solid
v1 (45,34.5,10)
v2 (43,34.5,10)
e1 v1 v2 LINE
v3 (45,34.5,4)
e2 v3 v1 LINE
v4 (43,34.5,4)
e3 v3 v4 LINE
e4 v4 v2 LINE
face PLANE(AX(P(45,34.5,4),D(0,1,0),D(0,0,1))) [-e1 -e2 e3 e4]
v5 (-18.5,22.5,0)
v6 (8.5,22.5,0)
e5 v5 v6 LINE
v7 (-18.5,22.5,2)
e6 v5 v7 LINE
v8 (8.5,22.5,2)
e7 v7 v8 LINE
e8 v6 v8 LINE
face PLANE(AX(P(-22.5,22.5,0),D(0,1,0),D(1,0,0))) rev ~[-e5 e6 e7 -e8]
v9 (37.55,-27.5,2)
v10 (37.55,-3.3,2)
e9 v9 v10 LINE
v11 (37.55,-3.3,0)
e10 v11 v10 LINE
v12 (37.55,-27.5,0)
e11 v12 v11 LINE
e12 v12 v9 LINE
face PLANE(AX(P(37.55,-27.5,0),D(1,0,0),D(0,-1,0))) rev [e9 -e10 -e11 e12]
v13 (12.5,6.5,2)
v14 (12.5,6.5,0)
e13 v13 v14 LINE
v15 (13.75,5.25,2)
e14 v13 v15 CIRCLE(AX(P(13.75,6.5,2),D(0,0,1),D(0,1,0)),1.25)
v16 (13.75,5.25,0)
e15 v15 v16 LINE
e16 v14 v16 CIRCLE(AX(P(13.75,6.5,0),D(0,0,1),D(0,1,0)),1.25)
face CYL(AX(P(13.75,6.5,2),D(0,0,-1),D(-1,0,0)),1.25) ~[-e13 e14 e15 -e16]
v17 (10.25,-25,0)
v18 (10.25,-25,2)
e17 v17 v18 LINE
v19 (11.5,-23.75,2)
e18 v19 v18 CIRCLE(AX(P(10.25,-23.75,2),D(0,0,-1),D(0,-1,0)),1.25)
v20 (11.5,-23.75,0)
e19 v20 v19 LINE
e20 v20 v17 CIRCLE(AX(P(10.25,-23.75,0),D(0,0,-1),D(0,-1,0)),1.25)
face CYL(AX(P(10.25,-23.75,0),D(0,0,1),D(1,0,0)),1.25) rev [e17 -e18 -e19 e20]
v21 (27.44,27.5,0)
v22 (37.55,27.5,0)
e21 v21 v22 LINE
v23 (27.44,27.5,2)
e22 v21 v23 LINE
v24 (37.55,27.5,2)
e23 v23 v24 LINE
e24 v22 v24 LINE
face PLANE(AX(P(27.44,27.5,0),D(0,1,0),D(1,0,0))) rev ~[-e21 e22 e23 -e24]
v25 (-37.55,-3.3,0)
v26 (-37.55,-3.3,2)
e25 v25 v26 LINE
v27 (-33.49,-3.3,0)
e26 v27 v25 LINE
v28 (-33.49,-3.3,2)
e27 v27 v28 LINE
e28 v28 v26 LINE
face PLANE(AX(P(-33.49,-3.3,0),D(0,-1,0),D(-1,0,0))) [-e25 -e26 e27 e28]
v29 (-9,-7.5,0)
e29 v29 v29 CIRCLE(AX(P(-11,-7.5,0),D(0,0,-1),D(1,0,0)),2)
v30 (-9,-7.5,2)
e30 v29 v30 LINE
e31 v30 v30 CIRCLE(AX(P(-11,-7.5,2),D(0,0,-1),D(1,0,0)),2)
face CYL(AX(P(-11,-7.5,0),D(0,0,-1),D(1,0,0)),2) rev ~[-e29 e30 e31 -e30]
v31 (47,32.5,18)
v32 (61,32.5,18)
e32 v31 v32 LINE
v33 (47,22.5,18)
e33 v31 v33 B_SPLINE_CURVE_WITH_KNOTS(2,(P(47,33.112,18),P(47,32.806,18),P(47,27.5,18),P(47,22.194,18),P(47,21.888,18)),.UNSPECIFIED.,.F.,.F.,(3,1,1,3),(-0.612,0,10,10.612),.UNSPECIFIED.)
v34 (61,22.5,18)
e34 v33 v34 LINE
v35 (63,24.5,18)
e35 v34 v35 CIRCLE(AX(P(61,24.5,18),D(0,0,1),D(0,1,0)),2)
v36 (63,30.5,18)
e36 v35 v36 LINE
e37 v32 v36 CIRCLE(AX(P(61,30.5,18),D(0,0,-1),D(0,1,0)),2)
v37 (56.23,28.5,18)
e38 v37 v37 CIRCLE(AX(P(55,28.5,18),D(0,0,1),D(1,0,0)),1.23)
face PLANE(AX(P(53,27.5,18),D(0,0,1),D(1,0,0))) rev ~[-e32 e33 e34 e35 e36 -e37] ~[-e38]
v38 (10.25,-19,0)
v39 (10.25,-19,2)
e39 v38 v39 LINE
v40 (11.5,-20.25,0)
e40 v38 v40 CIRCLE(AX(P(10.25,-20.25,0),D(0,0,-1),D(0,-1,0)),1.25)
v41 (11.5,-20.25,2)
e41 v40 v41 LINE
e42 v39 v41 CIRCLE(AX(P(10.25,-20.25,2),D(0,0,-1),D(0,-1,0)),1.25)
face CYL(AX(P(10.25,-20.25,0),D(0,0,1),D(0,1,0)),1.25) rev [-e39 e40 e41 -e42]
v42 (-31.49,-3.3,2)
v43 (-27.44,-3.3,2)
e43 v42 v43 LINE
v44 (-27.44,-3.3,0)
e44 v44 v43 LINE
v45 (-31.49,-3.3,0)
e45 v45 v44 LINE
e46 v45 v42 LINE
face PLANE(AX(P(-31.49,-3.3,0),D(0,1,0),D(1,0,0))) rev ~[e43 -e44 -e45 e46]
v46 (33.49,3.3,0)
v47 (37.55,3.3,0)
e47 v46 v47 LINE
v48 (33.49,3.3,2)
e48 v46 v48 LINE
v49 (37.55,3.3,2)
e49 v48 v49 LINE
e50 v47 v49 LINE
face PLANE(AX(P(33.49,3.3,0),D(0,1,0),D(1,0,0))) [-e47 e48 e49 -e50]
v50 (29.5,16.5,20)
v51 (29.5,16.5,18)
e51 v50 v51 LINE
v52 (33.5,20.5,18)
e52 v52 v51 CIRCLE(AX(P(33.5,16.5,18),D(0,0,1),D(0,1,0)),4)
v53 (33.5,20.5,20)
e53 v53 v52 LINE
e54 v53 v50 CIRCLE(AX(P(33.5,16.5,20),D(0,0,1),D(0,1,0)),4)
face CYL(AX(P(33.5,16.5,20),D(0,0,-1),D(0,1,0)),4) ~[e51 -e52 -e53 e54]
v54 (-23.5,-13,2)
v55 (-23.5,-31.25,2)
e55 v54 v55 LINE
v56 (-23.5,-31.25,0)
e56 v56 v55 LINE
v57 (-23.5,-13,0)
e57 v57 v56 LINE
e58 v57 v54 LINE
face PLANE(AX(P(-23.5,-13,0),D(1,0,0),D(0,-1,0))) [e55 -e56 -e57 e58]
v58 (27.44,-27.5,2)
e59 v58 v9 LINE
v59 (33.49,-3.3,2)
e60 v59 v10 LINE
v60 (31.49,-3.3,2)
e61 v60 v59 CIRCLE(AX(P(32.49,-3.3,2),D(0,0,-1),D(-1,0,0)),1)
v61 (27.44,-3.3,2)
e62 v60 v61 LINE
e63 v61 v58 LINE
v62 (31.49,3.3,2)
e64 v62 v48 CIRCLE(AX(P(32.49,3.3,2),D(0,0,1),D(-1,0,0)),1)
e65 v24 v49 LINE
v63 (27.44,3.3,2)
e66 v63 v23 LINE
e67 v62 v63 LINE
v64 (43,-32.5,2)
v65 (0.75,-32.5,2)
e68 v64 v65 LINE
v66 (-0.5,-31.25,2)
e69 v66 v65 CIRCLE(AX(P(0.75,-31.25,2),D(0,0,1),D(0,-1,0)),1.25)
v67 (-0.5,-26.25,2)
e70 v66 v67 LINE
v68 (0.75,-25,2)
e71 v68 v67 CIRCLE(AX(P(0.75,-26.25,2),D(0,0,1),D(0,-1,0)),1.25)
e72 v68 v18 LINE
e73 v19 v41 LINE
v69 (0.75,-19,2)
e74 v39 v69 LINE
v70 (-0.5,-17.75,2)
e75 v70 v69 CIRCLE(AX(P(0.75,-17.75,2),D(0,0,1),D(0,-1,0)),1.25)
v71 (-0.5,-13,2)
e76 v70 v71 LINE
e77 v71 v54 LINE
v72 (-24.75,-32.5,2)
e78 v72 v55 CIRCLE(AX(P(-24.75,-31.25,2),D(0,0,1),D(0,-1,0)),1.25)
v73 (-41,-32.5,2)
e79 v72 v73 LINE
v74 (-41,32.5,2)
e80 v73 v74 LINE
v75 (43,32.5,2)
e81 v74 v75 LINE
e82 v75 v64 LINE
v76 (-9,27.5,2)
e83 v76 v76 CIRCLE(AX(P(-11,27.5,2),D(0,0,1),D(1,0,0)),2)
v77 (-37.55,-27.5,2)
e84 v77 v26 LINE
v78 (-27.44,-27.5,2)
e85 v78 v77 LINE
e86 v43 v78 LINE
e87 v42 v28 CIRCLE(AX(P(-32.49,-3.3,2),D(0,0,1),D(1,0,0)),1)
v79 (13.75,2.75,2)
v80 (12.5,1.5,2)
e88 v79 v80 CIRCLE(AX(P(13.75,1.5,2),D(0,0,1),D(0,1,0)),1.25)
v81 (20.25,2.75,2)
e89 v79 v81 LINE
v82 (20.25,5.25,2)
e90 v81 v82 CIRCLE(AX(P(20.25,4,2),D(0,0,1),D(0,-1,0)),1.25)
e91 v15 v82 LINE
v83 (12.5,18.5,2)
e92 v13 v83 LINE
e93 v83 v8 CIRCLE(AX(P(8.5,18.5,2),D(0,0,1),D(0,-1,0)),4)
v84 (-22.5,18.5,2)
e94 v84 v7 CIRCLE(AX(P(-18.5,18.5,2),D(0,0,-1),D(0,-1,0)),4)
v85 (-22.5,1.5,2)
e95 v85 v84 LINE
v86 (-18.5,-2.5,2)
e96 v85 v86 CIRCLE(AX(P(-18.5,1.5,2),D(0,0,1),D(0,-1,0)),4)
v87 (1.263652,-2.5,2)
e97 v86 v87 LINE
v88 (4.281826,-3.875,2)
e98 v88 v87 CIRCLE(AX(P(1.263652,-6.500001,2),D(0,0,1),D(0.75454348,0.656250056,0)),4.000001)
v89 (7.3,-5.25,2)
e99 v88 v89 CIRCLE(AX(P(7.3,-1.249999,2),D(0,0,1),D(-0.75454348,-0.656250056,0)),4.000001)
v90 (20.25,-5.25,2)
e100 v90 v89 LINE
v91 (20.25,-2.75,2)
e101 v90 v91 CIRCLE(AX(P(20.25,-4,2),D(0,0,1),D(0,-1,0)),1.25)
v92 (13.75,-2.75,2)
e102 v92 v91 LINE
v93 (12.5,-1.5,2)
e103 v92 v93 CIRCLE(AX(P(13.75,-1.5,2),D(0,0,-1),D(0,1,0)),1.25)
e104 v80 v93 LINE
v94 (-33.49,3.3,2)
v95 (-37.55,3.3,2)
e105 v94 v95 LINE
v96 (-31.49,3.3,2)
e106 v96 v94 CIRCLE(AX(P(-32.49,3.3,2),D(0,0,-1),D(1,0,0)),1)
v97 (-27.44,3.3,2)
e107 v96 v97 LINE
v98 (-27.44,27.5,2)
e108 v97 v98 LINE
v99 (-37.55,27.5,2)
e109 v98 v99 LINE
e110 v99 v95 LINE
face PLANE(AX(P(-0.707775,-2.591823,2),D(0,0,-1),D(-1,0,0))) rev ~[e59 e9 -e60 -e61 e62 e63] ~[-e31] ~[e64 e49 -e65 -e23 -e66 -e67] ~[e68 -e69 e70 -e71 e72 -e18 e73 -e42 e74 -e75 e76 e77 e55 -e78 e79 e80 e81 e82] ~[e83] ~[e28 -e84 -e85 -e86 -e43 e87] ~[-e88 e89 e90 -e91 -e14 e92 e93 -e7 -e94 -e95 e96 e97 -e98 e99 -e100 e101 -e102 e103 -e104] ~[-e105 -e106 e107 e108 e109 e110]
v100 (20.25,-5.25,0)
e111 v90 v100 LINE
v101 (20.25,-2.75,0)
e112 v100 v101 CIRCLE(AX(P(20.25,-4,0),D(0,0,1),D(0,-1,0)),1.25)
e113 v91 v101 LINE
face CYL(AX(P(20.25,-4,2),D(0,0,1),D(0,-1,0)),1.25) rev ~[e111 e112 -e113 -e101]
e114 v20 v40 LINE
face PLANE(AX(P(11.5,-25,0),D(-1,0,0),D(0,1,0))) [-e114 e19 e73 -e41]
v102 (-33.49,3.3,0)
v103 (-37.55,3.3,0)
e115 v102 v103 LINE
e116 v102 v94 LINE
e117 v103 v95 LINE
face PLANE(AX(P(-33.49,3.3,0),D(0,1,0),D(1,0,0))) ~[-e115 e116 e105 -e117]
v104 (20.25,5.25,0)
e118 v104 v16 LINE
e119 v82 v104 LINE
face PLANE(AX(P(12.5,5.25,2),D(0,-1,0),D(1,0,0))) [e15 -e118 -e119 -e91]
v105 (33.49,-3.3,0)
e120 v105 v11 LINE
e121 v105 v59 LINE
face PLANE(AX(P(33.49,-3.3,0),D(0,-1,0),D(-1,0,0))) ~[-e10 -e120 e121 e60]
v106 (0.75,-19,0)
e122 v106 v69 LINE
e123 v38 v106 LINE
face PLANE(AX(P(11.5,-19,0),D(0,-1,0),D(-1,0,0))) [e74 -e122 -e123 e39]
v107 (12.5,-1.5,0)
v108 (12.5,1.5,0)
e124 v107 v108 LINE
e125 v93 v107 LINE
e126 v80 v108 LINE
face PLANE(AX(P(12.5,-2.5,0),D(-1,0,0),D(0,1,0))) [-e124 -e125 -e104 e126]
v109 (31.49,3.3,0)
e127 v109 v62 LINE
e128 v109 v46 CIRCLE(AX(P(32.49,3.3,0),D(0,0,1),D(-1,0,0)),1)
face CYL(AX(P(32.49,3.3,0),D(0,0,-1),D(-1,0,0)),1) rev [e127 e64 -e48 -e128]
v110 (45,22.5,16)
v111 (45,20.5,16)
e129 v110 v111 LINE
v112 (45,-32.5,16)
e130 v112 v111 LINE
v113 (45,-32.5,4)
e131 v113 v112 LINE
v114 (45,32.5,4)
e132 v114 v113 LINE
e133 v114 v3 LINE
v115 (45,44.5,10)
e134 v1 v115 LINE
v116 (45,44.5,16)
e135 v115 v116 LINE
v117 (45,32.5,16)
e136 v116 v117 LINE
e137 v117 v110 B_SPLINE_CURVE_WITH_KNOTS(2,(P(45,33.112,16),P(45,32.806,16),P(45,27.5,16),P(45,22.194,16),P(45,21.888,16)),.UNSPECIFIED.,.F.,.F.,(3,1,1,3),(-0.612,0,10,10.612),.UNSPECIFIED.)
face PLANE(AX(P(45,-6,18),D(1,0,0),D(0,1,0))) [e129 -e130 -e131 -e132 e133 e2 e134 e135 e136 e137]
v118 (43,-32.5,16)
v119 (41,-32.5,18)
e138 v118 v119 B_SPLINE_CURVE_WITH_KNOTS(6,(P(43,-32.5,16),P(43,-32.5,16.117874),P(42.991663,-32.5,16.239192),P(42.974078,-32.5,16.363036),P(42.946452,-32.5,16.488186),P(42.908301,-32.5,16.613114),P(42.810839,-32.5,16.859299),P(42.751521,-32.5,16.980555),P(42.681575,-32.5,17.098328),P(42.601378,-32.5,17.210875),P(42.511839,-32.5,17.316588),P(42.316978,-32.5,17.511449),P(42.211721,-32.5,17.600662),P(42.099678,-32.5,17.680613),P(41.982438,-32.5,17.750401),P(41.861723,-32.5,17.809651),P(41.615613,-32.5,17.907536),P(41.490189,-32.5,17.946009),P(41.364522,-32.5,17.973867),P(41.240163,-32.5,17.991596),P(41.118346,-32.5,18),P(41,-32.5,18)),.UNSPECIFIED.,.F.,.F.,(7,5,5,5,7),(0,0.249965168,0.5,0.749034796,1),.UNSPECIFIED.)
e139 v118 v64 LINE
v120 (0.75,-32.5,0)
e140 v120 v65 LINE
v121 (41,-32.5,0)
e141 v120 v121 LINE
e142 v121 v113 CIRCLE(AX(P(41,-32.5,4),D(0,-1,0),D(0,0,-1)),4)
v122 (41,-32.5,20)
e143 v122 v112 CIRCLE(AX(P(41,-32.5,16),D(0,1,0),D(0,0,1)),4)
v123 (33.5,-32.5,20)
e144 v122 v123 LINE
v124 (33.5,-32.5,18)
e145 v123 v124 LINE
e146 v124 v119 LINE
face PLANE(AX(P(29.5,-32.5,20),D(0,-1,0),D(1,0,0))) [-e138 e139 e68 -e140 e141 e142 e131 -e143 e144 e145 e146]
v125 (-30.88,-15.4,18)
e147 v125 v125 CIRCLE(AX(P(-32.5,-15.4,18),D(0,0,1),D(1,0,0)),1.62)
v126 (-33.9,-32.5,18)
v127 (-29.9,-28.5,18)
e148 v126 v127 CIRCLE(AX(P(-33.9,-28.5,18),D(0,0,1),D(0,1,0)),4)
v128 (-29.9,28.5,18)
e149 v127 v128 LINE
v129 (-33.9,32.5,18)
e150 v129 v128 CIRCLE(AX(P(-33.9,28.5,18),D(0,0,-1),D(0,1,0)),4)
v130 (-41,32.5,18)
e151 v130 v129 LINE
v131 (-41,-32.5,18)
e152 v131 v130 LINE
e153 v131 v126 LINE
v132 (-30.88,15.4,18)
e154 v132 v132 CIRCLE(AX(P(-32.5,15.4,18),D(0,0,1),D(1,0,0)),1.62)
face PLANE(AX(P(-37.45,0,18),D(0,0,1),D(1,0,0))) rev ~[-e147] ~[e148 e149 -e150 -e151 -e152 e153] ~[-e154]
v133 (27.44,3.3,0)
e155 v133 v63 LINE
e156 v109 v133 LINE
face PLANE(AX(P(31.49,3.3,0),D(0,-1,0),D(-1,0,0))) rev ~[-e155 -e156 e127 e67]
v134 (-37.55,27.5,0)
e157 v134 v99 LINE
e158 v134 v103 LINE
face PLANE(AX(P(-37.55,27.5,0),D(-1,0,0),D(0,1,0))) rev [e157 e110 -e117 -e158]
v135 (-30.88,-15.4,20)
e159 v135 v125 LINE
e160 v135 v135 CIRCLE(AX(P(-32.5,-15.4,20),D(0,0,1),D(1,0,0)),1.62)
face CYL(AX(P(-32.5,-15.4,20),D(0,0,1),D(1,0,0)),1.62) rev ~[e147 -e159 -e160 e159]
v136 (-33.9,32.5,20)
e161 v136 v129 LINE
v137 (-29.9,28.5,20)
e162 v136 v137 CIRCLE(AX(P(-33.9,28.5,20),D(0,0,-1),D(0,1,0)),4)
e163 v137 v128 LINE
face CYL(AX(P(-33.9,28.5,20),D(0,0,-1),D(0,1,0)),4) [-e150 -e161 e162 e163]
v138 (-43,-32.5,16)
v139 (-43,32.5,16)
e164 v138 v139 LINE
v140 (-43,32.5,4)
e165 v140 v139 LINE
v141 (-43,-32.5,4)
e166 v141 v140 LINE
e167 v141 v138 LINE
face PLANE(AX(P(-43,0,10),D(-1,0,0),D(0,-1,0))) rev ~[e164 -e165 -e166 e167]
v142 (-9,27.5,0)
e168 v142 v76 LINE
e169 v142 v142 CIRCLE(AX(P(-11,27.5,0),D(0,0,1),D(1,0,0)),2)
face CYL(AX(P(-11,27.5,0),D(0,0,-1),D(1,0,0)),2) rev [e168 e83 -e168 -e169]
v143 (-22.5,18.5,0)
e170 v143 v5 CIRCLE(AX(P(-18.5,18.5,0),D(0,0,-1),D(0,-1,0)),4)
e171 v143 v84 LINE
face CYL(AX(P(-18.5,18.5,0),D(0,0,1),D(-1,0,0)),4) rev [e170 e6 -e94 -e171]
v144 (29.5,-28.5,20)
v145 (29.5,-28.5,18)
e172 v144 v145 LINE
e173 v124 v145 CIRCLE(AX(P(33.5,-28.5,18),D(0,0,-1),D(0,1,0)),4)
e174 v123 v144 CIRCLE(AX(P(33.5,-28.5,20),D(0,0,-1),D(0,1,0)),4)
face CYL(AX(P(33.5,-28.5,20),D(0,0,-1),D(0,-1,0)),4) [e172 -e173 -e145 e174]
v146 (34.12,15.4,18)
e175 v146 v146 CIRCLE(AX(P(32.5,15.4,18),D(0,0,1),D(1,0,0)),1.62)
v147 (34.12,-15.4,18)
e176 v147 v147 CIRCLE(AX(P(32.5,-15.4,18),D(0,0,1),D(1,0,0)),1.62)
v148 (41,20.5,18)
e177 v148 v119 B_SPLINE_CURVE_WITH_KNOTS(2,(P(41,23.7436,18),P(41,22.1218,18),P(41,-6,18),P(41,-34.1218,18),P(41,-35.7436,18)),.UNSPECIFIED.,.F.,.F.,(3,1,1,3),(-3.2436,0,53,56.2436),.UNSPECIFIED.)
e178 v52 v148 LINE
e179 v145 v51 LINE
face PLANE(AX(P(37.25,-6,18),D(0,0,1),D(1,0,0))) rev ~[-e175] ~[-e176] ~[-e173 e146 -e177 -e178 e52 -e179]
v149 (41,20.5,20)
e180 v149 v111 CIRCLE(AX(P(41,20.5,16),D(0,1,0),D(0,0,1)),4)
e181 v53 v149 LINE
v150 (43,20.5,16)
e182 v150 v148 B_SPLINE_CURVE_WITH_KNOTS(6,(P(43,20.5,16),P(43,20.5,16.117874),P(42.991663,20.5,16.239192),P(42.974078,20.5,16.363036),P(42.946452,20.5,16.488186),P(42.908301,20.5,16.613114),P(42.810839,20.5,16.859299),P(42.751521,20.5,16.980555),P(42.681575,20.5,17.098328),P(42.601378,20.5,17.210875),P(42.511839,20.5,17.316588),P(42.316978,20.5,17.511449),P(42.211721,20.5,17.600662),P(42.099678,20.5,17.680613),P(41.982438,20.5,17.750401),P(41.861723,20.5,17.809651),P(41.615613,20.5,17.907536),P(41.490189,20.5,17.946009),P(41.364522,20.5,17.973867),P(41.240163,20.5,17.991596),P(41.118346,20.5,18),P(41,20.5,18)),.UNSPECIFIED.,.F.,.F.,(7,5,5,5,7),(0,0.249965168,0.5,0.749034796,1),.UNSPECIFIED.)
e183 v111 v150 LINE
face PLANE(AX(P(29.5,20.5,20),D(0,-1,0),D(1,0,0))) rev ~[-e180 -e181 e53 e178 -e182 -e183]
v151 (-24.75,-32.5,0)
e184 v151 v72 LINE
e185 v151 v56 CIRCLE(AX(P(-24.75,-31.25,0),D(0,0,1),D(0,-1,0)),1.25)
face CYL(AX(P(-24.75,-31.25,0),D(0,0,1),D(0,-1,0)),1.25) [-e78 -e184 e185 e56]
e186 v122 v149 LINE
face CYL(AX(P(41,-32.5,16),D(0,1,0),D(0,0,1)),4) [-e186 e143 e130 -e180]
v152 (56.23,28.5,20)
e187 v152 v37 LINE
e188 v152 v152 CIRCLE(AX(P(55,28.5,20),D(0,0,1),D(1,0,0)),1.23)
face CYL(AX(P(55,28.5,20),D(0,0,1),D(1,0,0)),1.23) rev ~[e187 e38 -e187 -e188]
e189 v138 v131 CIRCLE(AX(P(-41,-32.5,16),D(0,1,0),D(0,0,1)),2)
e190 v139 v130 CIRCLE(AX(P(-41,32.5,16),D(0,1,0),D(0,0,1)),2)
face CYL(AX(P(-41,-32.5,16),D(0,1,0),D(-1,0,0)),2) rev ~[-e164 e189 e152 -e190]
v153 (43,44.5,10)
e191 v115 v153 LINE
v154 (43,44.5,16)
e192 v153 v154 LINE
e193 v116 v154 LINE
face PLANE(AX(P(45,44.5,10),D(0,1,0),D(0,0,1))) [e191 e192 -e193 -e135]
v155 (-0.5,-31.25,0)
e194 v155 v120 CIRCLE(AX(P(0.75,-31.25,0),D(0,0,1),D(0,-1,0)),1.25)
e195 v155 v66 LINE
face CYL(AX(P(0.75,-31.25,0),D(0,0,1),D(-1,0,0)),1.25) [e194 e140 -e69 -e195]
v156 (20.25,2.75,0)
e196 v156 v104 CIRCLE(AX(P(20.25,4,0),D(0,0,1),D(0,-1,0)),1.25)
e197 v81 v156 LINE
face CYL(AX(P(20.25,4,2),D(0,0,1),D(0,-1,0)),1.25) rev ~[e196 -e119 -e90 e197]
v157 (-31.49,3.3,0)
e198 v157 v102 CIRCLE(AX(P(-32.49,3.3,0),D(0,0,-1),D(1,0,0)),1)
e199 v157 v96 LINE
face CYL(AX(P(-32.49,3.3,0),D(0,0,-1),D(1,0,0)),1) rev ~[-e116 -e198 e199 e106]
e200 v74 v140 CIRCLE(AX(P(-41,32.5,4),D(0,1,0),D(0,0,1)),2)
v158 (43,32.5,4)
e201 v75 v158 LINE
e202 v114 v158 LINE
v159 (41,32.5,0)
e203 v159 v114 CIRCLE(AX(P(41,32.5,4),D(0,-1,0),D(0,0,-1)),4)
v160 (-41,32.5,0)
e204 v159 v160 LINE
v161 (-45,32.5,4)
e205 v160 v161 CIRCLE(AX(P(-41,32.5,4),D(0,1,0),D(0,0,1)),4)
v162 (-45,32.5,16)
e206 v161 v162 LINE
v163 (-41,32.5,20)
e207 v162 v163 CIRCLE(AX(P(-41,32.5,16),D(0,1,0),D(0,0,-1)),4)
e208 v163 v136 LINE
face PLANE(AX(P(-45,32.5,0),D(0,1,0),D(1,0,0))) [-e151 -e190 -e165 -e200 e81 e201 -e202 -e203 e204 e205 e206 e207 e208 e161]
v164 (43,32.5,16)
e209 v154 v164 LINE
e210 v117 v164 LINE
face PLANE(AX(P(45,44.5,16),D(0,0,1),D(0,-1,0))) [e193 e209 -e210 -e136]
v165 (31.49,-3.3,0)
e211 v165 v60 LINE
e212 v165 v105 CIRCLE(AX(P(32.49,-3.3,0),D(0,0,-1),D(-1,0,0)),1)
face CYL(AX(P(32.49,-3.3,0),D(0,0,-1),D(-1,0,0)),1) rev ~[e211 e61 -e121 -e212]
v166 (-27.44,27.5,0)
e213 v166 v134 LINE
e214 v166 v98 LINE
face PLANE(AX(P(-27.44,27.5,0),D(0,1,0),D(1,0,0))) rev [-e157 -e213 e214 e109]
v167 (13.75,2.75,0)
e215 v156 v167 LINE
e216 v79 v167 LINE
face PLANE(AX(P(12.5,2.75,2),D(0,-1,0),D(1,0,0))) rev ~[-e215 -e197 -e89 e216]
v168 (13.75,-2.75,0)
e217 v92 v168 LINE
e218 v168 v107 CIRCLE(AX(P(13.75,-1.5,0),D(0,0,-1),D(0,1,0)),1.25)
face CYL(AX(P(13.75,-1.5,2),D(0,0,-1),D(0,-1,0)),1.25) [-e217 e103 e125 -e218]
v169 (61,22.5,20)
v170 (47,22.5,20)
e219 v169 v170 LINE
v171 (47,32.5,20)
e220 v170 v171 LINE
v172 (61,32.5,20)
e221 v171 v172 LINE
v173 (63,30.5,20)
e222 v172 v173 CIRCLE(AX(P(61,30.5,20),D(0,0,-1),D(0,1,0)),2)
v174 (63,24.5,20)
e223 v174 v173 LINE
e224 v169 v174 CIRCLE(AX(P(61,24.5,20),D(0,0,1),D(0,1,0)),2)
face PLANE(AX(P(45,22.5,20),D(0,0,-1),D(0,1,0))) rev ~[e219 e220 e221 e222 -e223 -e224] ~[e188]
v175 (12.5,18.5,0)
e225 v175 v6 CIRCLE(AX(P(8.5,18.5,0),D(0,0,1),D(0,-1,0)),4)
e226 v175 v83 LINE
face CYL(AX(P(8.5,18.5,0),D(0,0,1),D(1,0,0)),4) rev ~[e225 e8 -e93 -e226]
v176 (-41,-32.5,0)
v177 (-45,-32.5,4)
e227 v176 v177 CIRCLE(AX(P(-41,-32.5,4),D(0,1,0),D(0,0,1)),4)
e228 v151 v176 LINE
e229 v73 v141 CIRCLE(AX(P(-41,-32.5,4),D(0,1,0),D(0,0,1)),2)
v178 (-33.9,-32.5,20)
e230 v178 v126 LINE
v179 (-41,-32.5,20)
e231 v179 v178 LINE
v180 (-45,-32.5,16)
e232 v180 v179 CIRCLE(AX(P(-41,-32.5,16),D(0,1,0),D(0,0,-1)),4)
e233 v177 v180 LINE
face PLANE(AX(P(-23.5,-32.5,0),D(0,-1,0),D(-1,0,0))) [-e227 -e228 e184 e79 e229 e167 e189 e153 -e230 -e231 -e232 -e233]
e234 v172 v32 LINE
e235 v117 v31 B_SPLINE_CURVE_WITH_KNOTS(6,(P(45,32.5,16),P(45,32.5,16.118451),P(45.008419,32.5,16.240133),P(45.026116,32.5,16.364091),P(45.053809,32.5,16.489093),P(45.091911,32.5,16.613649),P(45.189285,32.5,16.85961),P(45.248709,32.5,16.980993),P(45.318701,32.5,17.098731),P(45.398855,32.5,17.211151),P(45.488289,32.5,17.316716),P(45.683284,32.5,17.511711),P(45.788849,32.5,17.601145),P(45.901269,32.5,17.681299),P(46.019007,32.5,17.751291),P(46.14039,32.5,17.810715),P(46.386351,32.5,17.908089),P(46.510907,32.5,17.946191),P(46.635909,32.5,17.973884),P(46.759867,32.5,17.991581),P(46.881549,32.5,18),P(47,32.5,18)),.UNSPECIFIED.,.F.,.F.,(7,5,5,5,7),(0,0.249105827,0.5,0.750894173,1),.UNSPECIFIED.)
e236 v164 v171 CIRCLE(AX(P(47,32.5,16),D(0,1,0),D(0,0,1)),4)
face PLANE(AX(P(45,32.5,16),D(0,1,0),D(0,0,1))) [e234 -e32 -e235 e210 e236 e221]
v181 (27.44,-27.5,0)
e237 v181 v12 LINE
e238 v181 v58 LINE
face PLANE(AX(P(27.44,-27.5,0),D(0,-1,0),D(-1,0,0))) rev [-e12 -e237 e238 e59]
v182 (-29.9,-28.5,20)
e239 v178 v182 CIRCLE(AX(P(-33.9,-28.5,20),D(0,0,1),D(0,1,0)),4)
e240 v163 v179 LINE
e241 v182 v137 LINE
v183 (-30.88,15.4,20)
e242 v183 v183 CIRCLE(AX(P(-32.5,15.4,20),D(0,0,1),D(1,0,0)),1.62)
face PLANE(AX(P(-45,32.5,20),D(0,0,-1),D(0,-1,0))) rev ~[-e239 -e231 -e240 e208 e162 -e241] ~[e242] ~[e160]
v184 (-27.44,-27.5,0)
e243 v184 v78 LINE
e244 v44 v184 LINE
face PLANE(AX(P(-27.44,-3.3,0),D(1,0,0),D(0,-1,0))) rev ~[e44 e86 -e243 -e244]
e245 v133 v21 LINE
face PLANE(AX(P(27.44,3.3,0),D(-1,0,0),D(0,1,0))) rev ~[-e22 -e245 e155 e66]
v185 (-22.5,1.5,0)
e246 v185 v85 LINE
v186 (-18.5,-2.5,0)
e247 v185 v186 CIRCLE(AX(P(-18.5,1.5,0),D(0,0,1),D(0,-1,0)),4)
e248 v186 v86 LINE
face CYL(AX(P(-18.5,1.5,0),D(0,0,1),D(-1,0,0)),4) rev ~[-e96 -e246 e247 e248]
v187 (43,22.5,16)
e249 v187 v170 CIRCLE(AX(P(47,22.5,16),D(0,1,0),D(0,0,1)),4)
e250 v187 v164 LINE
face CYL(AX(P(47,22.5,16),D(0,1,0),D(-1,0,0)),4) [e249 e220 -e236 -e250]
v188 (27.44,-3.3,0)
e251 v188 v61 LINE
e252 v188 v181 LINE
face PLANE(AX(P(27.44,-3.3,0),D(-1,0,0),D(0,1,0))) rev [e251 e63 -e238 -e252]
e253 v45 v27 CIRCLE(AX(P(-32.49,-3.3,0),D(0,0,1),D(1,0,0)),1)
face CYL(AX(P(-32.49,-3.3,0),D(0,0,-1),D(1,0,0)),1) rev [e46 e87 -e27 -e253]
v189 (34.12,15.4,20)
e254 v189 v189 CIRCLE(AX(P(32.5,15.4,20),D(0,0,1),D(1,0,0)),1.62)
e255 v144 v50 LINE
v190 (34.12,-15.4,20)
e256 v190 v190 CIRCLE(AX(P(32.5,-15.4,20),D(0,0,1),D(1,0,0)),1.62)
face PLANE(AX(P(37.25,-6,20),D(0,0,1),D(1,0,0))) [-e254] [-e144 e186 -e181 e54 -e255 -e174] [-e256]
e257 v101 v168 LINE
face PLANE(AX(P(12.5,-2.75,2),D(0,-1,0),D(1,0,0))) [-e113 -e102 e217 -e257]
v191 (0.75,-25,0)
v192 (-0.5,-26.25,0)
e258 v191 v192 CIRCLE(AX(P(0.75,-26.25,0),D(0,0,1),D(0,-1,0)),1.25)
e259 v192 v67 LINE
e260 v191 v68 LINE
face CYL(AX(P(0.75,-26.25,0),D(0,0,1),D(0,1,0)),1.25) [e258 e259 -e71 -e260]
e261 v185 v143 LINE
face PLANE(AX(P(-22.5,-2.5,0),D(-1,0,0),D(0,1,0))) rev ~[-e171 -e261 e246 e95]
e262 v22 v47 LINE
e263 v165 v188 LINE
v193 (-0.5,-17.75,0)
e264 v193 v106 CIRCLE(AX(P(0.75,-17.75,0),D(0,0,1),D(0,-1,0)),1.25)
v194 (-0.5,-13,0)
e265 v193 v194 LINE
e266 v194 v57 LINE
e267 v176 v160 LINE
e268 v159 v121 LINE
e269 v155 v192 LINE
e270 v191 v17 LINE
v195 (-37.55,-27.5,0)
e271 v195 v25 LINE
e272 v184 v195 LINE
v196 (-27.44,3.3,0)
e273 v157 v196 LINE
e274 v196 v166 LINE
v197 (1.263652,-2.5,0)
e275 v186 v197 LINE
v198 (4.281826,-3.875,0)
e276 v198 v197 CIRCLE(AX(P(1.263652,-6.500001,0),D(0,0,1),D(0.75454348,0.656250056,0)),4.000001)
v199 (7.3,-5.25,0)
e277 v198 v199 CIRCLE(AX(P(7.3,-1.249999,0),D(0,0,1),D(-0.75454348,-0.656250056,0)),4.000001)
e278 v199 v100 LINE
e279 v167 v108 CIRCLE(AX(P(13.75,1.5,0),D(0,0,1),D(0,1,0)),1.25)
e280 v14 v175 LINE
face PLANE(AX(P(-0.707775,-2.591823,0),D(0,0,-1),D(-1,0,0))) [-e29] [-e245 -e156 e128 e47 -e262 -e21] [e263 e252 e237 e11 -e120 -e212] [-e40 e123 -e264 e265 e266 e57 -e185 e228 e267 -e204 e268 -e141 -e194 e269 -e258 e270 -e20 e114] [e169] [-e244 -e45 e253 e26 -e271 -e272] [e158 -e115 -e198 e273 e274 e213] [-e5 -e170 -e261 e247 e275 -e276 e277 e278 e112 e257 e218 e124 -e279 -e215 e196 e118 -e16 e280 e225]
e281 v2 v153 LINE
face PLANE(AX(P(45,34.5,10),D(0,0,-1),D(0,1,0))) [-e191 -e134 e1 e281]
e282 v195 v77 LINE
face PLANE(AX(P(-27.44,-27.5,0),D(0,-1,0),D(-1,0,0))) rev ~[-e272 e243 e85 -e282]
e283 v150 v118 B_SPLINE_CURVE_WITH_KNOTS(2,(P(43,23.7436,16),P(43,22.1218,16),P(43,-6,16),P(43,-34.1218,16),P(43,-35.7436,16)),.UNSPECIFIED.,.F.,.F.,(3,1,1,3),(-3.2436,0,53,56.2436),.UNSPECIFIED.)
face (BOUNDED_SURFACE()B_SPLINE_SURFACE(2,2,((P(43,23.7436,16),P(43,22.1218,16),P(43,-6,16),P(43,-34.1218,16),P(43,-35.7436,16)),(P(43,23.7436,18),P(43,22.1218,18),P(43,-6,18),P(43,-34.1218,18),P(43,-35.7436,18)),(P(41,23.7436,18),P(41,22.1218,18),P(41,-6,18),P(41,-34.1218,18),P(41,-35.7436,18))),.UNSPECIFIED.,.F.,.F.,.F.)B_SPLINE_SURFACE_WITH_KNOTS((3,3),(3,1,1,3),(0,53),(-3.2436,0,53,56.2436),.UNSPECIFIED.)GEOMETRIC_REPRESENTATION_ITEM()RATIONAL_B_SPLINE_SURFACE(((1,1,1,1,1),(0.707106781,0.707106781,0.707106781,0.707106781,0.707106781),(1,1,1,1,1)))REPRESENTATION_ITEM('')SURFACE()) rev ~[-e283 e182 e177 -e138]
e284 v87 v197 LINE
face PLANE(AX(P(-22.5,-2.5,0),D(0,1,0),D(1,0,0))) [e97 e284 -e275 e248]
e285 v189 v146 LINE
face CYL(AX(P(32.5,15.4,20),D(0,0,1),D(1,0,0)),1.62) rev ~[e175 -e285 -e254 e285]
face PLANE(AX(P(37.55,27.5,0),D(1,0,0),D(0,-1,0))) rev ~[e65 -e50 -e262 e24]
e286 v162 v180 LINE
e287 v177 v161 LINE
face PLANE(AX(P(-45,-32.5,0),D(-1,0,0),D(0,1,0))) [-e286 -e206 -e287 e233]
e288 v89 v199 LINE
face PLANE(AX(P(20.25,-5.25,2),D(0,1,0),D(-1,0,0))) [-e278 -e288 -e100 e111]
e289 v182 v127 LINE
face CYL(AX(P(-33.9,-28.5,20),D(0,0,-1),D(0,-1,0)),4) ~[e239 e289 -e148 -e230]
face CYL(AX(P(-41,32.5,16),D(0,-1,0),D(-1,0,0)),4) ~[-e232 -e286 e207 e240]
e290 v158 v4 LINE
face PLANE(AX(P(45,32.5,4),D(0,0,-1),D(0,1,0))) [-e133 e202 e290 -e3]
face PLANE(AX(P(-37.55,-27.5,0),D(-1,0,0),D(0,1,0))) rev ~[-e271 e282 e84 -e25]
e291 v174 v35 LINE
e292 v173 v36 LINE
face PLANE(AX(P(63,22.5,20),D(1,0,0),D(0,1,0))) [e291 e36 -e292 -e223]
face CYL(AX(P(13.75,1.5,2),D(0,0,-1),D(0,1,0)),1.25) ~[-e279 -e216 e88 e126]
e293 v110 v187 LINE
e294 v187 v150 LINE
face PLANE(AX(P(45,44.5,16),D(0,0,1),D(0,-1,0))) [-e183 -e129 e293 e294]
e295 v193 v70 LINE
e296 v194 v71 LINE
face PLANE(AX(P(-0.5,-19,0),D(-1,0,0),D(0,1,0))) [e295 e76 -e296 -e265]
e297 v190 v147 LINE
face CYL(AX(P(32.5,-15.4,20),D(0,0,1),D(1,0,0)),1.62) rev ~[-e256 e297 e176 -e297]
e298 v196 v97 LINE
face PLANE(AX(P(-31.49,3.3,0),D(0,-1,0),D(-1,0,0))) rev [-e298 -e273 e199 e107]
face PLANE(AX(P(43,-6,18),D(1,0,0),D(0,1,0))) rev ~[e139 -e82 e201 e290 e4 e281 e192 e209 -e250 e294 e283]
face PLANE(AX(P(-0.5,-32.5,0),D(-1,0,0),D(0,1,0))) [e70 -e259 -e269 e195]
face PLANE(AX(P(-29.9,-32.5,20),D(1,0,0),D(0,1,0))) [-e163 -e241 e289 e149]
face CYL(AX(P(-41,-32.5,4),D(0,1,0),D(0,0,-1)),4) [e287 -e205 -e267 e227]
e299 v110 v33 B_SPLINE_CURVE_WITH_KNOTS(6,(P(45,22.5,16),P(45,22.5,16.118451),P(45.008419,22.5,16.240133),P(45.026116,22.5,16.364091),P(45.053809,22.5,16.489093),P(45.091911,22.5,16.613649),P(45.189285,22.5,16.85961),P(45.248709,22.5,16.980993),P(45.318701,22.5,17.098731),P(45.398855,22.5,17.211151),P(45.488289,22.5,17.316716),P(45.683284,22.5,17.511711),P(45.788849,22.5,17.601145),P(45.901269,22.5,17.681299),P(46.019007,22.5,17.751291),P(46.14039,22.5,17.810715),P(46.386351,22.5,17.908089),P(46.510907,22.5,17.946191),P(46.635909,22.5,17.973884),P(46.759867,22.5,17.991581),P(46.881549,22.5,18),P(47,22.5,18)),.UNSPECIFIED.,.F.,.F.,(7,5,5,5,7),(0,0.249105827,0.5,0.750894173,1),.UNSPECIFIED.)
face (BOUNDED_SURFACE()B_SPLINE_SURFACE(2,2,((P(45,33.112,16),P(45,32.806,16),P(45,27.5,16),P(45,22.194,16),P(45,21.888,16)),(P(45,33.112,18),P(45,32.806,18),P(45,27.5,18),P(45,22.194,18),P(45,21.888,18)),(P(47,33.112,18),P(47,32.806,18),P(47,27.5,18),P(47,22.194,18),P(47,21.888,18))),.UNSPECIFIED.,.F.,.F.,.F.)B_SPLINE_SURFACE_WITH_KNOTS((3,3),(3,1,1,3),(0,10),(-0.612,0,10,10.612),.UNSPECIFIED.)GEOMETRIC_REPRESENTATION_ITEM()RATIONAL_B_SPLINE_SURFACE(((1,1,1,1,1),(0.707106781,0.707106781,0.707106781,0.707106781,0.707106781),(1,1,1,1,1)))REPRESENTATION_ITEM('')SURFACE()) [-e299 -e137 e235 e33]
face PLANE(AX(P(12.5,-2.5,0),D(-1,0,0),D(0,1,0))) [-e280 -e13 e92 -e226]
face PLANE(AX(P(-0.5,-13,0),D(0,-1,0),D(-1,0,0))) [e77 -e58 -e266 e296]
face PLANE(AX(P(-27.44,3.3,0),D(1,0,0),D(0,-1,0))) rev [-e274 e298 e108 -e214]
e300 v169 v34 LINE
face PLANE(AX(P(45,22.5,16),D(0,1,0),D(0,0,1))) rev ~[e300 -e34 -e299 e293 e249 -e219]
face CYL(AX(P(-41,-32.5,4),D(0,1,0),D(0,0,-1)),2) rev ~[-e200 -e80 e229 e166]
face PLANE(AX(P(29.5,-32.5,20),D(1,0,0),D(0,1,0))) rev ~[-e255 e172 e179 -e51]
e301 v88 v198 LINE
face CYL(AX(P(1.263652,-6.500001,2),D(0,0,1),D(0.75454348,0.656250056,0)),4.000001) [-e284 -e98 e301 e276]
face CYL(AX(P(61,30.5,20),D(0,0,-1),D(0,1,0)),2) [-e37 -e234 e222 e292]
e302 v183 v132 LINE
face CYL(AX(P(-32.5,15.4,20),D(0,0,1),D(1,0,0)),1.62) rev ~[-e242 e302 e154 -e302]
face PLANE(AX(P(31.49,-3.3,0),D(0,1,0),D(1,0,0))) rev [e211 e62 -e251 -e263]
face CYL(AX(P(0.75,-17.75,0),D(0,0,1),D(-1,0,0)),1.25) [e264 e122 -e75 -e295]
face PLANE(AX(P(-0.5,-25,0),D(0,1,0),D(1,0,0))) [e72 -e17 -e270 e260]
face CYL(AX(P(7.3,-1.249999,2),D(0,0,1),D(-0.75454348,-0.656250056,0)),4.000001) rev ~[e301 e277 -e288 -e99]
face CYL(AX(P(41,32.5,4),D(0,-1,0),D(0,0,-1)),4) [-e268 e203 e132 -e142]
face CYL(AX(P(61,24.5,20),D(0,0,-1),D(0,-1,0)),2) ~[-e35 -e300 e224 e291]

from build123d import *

# Parameters (mm, degrees)
PAD001_DEPTH    = 2
SKETCH_R        = 2
SKETCH_W        = 35
SKETCH_H        = 25
PAD_DEPTH       = 2
POCKET_DEPTH    = 5
FILLET_R        = 1.25
FILLET001_R     = 4
FILLET002_R     = 1.25
PAD002_DEPTH    = 2
SKETCH004_W     = 65
SKETCH004_H     = 20
PAD003_DEPTH    = 2
SKETCH005_W     = 15.1
SKETCH005_H     = 65
PAD004_DEPTH    = 2
SKETCH006_W     = 53
SKETCH006_H     = 4
SKETCH006_W_2   = 10
PAD005_DEPTH    = 2
SKETCH007_W     = 15.5
SKETCH007_H     = 53
SKETCH007_W_2   = 20
SKETCH007_H_2   = 10
PAD006_DEPTH    = 2
SKETCH008_R     = 2
POCKET001_DEPTH = 5
FILLET003_R     = 4
FILLET004_R     = 2
FILLET005_R     = 2
FILLET006_R     = 4
SKETCH009_R     = 1.23
SKETCH009_R_2   = 1.62
POCKET002_DEPTH = 5


with BuildPart() as pad001:
    # Sketch001 → Pad001 (new body)
    with BuildSketch(Plane.XY):
        with BuildLine():
            Line((-27.44, -27.5), (-37.55, -27.5))
            Line((-37.55, -27.5), (-37.55, -3.3))
            Line((-33.49, -3.3), (-37.55, -3.3))
            ThreePointArc((-31.49, -3.3), (-32.49, -2.3), (-33.49, -3.3))
            Line((-31.49, -3.3), (-27.44, -3.3))
            Line((-27.44, -3.3), (-27.44, -27.5))
        make_face()
    extrude(amount=PAD001_DEPTH)


with BuildPart() as part_mirroring:
    # Part__Mirroring: instance of Pad001
    add(pad001.part.mirror(Plane(origin=(0, 0, 0), x_dir=(1, 0, 0), z_dir=(0, 1, 0))))


with BuildPart() as fusion:
    # Fusion base: copy of Pad001
    add(pad001.part)

    # Fusion: union Part__Mirroring
    add(part_mirroring.part)


with BuildPart() as part_mirroring001:
    # Part__Mirroring001: instance of Fusion
    add(fusion.part.mirror(Plane(origin=(0, 0, 0), x_dir=(0, -1, 0), z_dir=(1, 0, 0))))


with BuildPart() as fusion001:
    # Fusion001 base: copy of Fusion
    add(fusion.part)

    # Fusion001: union Part__Mirroring001
    add(part_mirroring001.part)


with BuildPart() as pocket002:
    # Sketch → Pad (new body)
    with BuildSketch(Plane.XY):
        Polygon((-45, 32.5), (45, 32.5), (45, -32.5), (-0.5, -32.5), (-0.5, -25), (11.5, -25), (11.5, -19), (-0.5, -19), (-0.5, -13), (-23.5, -13), (-23.5, -32.5), (-45, -32.5), align=None)
        with Locations((-11, 27.5)):
            Circle(SKETCH_R, mode=Mode.SUBTRACT)
        with Locations((-5, 10)):
            Rectangle(SKETCH_W, SKETCH_H, mode=Mode.SUBTRACT)
    extrude(amount=PAD_DEPTH)

    # Cut: cut Fusion001
    add(fusion001.part, mode=Mode.SUBTRACT)

    # Sketch002 → Pocket (cut)
    with BuildSketch(Plane.XY.offset(2)):
        with BuildLine():
            Line((12.5, 5.25), (20.25, 5.25))
            ThreePointArc((20.25, 2.75), (21.5, 4), (20.25, 5.25))
            Line((12.5, 2.75), (20.25, 2.75))
            Line((12.5, 2.75), (12.5, -2.75))
            Line((12.5, -2.75), (20.25, -2.75))
            ThreePointArc((20.25, -5.25), (21.5, -4), (20.25, -2.75))
            Line((20.25, -5.25), (7.3, -5.25))
            ThreePointArc((4.281826, -3.875), (5.641688, -4.890055), (7.3, -5.25))
            ThreePointArc((4.281826, -3.875), (2.921964, -2.859945), (1.263652, -2.5))
            Line((1.263652, -2.5), (12.5, 5.25))
        make_face()
    extrude(amount=-POCKET_DEPTH, mode=Mode.SUBTRACT)

    # Fillet
    fillet_edges = [pocket002.edges().sort_by_distance(p)[0] for p in [
        (-23.5, -32.5, 1),
        (-0.5, -32.5, 1),
        (-0.5, -19, 1),
        (-0.5, -25, 1),
        (11.5, -25, 1),
        (11.5, -19, 1),
    ]]
    fillet(fillet_edges, radius=FILLET_R)

    # Fillet001
    fillet001_edges = [pocket002.edges().sort_by_distance(p)[0] for p in [
        (-22.5, -2.5, 1),
        (-22.5, 22.5, 1),
        (12.5, 22.5, 1),
    ]]
    fillet(fillet001_edges, radius=FILLET001_R)

    # Fillet002
    fillet002_edges = [pocket002.edges().sort_by_distance(p)[0] for p in [
        (12.5, 5.25, 1),
        (12.5, 2.75, 1),
        (12.5, -2.75, 1),
    ]]
    fillet(fillet002_edges, radius=FILLET002_R)

    # Sketch003 → Pad002 (new body)
    with BuildSketch(Plane.YZ.offset(45)):
        Polygon((-32.5, 0), (32.5, 0), (32.5, 4), (34.5, 4), (34.5, 10), (44.5, 10), (44.5, 16), (32.5, 16), (-32.5, 16), align=None)
    extrude(amount=-PAD002_DEPTH)

    # Sketch004 → Pad003 (new body)
    with BuildSketch(Plane(origin=(-45, 0, 0), x_dir=(0, -1, 0), z_dir=(-1, 0, 0))):
        with Locations((0, 10)):
            Rectangle(SKETCH004_W, SKETCH004_H)
    extrude(amount=-PAD003_DEPTH)

    # Sketch005 → Pad004 (new body)
    with BuildSketch(Plane.XY.offset(20)):
        with Locations((-37.45, 0)):
            Rectangle(SKETCH005_W, SKETCH005_H)
    extrude(amount=-PAD004_DEPTH)

    # Sketch006 → Pad005 (new body)
    with BuildSketch(Plane.YZ.offset(45)):
        with Locations((-6, 18)):
            Rectangle(SKETCH006_W, SKETCH006_H)
        with Locations((27.5, 18)):
            Rectangle(SKETCH006_W_2, SKETCH006_H)
    extrude(amount=-PAD005_DEPTH)

    # Sketch007 → Pad006 (new body)
    with BuildSketch(Plane.XY.offset(20)):
        with Locations((37.25, -6)):
            Rectangle(SKETCH007_W, SKETCH007_H)
        with Locations((53, 27.5)):
            Rectangle(SKETCH007_W_2, SKETCH007_H_2)
    extrude(amount=-PAD006_DEPTH)

    # Sketch008 → Pocket001 (cut)
    with BuildSketch(Plane(origin=(0, 0, 0), x_dir=(1, 0, 0), z_dir=(0, 0, -1))):
        with Locations((-11, 7.5)):
            Circle(SKETCH008_R)
    extrude(amount=-POCKET001_DEPTH, mode=Mode.SUBTRACT)

    # Fillet003
    fillet003_edges = [pocket002.edges().sort_by_distance(p)[0] for p in [
        (45, -6, 20),
        (43, 27.5, 20),
        (45, 0, 0),
        (-45, 0, 0),
        (-45, 0, 20),
    ]]
    fillet(fillet003_edges, radius=FILLET003_R)

    # Fillet004
    fillet004_edges = [pocket002.edges().sort_by_distance(p)[0] for p in [
        (-43, 0, 18),
        (-43, 0, 2),
        (43, -6, 18),
        (45, 27.5, 18),
    ]]
    fillet(fillet004_edges, radius=FILLET004_R)

    # Fillet005
    fillet005_edges = [pocket002.edges().sort_by_distance(p)[0] for p in [
        (63, 32.5, 19),
        (63, 22.5, 19),
    ]]
    fillet(fillet005_edges, radius=FILLET005_R)

    # Fillet006
    fillet006_edges = [pocket002.edges().sort_by_distance(p)[0] for p in [
        (29.5, 20.5, 19),
        (-29.9, 32.5, 19),
        (29.5, -32.5, 19),
        (-29.9, -32.5, 19),
    ]]
    fillet(fillet006_edges, radius=FILLET006_R)

    # Sketch009 → Pocket002 (cut)
    with BuildSketch(Plane.XY.offset(20)):
        with Locations((55, 28.5)):
            Circle(SKETCH009_R)
        with Locations((32.5, 15.4)):
            Circle(SKETCH009_R_2)
        with Locations((-32.5, 15.4)):
            Circle(SKETCH009_R_2)
        with Locations((-32.5, -15.4)):
            Circle(SKETCH009_R_2)
        with Locations((32.5, -15.4)):
            Circle(SKETCH009_R_2)
    extrude(amount=-POCKET002_DEPTH, mode=Mode.SUBTRACT)


solid = pocket002.part
